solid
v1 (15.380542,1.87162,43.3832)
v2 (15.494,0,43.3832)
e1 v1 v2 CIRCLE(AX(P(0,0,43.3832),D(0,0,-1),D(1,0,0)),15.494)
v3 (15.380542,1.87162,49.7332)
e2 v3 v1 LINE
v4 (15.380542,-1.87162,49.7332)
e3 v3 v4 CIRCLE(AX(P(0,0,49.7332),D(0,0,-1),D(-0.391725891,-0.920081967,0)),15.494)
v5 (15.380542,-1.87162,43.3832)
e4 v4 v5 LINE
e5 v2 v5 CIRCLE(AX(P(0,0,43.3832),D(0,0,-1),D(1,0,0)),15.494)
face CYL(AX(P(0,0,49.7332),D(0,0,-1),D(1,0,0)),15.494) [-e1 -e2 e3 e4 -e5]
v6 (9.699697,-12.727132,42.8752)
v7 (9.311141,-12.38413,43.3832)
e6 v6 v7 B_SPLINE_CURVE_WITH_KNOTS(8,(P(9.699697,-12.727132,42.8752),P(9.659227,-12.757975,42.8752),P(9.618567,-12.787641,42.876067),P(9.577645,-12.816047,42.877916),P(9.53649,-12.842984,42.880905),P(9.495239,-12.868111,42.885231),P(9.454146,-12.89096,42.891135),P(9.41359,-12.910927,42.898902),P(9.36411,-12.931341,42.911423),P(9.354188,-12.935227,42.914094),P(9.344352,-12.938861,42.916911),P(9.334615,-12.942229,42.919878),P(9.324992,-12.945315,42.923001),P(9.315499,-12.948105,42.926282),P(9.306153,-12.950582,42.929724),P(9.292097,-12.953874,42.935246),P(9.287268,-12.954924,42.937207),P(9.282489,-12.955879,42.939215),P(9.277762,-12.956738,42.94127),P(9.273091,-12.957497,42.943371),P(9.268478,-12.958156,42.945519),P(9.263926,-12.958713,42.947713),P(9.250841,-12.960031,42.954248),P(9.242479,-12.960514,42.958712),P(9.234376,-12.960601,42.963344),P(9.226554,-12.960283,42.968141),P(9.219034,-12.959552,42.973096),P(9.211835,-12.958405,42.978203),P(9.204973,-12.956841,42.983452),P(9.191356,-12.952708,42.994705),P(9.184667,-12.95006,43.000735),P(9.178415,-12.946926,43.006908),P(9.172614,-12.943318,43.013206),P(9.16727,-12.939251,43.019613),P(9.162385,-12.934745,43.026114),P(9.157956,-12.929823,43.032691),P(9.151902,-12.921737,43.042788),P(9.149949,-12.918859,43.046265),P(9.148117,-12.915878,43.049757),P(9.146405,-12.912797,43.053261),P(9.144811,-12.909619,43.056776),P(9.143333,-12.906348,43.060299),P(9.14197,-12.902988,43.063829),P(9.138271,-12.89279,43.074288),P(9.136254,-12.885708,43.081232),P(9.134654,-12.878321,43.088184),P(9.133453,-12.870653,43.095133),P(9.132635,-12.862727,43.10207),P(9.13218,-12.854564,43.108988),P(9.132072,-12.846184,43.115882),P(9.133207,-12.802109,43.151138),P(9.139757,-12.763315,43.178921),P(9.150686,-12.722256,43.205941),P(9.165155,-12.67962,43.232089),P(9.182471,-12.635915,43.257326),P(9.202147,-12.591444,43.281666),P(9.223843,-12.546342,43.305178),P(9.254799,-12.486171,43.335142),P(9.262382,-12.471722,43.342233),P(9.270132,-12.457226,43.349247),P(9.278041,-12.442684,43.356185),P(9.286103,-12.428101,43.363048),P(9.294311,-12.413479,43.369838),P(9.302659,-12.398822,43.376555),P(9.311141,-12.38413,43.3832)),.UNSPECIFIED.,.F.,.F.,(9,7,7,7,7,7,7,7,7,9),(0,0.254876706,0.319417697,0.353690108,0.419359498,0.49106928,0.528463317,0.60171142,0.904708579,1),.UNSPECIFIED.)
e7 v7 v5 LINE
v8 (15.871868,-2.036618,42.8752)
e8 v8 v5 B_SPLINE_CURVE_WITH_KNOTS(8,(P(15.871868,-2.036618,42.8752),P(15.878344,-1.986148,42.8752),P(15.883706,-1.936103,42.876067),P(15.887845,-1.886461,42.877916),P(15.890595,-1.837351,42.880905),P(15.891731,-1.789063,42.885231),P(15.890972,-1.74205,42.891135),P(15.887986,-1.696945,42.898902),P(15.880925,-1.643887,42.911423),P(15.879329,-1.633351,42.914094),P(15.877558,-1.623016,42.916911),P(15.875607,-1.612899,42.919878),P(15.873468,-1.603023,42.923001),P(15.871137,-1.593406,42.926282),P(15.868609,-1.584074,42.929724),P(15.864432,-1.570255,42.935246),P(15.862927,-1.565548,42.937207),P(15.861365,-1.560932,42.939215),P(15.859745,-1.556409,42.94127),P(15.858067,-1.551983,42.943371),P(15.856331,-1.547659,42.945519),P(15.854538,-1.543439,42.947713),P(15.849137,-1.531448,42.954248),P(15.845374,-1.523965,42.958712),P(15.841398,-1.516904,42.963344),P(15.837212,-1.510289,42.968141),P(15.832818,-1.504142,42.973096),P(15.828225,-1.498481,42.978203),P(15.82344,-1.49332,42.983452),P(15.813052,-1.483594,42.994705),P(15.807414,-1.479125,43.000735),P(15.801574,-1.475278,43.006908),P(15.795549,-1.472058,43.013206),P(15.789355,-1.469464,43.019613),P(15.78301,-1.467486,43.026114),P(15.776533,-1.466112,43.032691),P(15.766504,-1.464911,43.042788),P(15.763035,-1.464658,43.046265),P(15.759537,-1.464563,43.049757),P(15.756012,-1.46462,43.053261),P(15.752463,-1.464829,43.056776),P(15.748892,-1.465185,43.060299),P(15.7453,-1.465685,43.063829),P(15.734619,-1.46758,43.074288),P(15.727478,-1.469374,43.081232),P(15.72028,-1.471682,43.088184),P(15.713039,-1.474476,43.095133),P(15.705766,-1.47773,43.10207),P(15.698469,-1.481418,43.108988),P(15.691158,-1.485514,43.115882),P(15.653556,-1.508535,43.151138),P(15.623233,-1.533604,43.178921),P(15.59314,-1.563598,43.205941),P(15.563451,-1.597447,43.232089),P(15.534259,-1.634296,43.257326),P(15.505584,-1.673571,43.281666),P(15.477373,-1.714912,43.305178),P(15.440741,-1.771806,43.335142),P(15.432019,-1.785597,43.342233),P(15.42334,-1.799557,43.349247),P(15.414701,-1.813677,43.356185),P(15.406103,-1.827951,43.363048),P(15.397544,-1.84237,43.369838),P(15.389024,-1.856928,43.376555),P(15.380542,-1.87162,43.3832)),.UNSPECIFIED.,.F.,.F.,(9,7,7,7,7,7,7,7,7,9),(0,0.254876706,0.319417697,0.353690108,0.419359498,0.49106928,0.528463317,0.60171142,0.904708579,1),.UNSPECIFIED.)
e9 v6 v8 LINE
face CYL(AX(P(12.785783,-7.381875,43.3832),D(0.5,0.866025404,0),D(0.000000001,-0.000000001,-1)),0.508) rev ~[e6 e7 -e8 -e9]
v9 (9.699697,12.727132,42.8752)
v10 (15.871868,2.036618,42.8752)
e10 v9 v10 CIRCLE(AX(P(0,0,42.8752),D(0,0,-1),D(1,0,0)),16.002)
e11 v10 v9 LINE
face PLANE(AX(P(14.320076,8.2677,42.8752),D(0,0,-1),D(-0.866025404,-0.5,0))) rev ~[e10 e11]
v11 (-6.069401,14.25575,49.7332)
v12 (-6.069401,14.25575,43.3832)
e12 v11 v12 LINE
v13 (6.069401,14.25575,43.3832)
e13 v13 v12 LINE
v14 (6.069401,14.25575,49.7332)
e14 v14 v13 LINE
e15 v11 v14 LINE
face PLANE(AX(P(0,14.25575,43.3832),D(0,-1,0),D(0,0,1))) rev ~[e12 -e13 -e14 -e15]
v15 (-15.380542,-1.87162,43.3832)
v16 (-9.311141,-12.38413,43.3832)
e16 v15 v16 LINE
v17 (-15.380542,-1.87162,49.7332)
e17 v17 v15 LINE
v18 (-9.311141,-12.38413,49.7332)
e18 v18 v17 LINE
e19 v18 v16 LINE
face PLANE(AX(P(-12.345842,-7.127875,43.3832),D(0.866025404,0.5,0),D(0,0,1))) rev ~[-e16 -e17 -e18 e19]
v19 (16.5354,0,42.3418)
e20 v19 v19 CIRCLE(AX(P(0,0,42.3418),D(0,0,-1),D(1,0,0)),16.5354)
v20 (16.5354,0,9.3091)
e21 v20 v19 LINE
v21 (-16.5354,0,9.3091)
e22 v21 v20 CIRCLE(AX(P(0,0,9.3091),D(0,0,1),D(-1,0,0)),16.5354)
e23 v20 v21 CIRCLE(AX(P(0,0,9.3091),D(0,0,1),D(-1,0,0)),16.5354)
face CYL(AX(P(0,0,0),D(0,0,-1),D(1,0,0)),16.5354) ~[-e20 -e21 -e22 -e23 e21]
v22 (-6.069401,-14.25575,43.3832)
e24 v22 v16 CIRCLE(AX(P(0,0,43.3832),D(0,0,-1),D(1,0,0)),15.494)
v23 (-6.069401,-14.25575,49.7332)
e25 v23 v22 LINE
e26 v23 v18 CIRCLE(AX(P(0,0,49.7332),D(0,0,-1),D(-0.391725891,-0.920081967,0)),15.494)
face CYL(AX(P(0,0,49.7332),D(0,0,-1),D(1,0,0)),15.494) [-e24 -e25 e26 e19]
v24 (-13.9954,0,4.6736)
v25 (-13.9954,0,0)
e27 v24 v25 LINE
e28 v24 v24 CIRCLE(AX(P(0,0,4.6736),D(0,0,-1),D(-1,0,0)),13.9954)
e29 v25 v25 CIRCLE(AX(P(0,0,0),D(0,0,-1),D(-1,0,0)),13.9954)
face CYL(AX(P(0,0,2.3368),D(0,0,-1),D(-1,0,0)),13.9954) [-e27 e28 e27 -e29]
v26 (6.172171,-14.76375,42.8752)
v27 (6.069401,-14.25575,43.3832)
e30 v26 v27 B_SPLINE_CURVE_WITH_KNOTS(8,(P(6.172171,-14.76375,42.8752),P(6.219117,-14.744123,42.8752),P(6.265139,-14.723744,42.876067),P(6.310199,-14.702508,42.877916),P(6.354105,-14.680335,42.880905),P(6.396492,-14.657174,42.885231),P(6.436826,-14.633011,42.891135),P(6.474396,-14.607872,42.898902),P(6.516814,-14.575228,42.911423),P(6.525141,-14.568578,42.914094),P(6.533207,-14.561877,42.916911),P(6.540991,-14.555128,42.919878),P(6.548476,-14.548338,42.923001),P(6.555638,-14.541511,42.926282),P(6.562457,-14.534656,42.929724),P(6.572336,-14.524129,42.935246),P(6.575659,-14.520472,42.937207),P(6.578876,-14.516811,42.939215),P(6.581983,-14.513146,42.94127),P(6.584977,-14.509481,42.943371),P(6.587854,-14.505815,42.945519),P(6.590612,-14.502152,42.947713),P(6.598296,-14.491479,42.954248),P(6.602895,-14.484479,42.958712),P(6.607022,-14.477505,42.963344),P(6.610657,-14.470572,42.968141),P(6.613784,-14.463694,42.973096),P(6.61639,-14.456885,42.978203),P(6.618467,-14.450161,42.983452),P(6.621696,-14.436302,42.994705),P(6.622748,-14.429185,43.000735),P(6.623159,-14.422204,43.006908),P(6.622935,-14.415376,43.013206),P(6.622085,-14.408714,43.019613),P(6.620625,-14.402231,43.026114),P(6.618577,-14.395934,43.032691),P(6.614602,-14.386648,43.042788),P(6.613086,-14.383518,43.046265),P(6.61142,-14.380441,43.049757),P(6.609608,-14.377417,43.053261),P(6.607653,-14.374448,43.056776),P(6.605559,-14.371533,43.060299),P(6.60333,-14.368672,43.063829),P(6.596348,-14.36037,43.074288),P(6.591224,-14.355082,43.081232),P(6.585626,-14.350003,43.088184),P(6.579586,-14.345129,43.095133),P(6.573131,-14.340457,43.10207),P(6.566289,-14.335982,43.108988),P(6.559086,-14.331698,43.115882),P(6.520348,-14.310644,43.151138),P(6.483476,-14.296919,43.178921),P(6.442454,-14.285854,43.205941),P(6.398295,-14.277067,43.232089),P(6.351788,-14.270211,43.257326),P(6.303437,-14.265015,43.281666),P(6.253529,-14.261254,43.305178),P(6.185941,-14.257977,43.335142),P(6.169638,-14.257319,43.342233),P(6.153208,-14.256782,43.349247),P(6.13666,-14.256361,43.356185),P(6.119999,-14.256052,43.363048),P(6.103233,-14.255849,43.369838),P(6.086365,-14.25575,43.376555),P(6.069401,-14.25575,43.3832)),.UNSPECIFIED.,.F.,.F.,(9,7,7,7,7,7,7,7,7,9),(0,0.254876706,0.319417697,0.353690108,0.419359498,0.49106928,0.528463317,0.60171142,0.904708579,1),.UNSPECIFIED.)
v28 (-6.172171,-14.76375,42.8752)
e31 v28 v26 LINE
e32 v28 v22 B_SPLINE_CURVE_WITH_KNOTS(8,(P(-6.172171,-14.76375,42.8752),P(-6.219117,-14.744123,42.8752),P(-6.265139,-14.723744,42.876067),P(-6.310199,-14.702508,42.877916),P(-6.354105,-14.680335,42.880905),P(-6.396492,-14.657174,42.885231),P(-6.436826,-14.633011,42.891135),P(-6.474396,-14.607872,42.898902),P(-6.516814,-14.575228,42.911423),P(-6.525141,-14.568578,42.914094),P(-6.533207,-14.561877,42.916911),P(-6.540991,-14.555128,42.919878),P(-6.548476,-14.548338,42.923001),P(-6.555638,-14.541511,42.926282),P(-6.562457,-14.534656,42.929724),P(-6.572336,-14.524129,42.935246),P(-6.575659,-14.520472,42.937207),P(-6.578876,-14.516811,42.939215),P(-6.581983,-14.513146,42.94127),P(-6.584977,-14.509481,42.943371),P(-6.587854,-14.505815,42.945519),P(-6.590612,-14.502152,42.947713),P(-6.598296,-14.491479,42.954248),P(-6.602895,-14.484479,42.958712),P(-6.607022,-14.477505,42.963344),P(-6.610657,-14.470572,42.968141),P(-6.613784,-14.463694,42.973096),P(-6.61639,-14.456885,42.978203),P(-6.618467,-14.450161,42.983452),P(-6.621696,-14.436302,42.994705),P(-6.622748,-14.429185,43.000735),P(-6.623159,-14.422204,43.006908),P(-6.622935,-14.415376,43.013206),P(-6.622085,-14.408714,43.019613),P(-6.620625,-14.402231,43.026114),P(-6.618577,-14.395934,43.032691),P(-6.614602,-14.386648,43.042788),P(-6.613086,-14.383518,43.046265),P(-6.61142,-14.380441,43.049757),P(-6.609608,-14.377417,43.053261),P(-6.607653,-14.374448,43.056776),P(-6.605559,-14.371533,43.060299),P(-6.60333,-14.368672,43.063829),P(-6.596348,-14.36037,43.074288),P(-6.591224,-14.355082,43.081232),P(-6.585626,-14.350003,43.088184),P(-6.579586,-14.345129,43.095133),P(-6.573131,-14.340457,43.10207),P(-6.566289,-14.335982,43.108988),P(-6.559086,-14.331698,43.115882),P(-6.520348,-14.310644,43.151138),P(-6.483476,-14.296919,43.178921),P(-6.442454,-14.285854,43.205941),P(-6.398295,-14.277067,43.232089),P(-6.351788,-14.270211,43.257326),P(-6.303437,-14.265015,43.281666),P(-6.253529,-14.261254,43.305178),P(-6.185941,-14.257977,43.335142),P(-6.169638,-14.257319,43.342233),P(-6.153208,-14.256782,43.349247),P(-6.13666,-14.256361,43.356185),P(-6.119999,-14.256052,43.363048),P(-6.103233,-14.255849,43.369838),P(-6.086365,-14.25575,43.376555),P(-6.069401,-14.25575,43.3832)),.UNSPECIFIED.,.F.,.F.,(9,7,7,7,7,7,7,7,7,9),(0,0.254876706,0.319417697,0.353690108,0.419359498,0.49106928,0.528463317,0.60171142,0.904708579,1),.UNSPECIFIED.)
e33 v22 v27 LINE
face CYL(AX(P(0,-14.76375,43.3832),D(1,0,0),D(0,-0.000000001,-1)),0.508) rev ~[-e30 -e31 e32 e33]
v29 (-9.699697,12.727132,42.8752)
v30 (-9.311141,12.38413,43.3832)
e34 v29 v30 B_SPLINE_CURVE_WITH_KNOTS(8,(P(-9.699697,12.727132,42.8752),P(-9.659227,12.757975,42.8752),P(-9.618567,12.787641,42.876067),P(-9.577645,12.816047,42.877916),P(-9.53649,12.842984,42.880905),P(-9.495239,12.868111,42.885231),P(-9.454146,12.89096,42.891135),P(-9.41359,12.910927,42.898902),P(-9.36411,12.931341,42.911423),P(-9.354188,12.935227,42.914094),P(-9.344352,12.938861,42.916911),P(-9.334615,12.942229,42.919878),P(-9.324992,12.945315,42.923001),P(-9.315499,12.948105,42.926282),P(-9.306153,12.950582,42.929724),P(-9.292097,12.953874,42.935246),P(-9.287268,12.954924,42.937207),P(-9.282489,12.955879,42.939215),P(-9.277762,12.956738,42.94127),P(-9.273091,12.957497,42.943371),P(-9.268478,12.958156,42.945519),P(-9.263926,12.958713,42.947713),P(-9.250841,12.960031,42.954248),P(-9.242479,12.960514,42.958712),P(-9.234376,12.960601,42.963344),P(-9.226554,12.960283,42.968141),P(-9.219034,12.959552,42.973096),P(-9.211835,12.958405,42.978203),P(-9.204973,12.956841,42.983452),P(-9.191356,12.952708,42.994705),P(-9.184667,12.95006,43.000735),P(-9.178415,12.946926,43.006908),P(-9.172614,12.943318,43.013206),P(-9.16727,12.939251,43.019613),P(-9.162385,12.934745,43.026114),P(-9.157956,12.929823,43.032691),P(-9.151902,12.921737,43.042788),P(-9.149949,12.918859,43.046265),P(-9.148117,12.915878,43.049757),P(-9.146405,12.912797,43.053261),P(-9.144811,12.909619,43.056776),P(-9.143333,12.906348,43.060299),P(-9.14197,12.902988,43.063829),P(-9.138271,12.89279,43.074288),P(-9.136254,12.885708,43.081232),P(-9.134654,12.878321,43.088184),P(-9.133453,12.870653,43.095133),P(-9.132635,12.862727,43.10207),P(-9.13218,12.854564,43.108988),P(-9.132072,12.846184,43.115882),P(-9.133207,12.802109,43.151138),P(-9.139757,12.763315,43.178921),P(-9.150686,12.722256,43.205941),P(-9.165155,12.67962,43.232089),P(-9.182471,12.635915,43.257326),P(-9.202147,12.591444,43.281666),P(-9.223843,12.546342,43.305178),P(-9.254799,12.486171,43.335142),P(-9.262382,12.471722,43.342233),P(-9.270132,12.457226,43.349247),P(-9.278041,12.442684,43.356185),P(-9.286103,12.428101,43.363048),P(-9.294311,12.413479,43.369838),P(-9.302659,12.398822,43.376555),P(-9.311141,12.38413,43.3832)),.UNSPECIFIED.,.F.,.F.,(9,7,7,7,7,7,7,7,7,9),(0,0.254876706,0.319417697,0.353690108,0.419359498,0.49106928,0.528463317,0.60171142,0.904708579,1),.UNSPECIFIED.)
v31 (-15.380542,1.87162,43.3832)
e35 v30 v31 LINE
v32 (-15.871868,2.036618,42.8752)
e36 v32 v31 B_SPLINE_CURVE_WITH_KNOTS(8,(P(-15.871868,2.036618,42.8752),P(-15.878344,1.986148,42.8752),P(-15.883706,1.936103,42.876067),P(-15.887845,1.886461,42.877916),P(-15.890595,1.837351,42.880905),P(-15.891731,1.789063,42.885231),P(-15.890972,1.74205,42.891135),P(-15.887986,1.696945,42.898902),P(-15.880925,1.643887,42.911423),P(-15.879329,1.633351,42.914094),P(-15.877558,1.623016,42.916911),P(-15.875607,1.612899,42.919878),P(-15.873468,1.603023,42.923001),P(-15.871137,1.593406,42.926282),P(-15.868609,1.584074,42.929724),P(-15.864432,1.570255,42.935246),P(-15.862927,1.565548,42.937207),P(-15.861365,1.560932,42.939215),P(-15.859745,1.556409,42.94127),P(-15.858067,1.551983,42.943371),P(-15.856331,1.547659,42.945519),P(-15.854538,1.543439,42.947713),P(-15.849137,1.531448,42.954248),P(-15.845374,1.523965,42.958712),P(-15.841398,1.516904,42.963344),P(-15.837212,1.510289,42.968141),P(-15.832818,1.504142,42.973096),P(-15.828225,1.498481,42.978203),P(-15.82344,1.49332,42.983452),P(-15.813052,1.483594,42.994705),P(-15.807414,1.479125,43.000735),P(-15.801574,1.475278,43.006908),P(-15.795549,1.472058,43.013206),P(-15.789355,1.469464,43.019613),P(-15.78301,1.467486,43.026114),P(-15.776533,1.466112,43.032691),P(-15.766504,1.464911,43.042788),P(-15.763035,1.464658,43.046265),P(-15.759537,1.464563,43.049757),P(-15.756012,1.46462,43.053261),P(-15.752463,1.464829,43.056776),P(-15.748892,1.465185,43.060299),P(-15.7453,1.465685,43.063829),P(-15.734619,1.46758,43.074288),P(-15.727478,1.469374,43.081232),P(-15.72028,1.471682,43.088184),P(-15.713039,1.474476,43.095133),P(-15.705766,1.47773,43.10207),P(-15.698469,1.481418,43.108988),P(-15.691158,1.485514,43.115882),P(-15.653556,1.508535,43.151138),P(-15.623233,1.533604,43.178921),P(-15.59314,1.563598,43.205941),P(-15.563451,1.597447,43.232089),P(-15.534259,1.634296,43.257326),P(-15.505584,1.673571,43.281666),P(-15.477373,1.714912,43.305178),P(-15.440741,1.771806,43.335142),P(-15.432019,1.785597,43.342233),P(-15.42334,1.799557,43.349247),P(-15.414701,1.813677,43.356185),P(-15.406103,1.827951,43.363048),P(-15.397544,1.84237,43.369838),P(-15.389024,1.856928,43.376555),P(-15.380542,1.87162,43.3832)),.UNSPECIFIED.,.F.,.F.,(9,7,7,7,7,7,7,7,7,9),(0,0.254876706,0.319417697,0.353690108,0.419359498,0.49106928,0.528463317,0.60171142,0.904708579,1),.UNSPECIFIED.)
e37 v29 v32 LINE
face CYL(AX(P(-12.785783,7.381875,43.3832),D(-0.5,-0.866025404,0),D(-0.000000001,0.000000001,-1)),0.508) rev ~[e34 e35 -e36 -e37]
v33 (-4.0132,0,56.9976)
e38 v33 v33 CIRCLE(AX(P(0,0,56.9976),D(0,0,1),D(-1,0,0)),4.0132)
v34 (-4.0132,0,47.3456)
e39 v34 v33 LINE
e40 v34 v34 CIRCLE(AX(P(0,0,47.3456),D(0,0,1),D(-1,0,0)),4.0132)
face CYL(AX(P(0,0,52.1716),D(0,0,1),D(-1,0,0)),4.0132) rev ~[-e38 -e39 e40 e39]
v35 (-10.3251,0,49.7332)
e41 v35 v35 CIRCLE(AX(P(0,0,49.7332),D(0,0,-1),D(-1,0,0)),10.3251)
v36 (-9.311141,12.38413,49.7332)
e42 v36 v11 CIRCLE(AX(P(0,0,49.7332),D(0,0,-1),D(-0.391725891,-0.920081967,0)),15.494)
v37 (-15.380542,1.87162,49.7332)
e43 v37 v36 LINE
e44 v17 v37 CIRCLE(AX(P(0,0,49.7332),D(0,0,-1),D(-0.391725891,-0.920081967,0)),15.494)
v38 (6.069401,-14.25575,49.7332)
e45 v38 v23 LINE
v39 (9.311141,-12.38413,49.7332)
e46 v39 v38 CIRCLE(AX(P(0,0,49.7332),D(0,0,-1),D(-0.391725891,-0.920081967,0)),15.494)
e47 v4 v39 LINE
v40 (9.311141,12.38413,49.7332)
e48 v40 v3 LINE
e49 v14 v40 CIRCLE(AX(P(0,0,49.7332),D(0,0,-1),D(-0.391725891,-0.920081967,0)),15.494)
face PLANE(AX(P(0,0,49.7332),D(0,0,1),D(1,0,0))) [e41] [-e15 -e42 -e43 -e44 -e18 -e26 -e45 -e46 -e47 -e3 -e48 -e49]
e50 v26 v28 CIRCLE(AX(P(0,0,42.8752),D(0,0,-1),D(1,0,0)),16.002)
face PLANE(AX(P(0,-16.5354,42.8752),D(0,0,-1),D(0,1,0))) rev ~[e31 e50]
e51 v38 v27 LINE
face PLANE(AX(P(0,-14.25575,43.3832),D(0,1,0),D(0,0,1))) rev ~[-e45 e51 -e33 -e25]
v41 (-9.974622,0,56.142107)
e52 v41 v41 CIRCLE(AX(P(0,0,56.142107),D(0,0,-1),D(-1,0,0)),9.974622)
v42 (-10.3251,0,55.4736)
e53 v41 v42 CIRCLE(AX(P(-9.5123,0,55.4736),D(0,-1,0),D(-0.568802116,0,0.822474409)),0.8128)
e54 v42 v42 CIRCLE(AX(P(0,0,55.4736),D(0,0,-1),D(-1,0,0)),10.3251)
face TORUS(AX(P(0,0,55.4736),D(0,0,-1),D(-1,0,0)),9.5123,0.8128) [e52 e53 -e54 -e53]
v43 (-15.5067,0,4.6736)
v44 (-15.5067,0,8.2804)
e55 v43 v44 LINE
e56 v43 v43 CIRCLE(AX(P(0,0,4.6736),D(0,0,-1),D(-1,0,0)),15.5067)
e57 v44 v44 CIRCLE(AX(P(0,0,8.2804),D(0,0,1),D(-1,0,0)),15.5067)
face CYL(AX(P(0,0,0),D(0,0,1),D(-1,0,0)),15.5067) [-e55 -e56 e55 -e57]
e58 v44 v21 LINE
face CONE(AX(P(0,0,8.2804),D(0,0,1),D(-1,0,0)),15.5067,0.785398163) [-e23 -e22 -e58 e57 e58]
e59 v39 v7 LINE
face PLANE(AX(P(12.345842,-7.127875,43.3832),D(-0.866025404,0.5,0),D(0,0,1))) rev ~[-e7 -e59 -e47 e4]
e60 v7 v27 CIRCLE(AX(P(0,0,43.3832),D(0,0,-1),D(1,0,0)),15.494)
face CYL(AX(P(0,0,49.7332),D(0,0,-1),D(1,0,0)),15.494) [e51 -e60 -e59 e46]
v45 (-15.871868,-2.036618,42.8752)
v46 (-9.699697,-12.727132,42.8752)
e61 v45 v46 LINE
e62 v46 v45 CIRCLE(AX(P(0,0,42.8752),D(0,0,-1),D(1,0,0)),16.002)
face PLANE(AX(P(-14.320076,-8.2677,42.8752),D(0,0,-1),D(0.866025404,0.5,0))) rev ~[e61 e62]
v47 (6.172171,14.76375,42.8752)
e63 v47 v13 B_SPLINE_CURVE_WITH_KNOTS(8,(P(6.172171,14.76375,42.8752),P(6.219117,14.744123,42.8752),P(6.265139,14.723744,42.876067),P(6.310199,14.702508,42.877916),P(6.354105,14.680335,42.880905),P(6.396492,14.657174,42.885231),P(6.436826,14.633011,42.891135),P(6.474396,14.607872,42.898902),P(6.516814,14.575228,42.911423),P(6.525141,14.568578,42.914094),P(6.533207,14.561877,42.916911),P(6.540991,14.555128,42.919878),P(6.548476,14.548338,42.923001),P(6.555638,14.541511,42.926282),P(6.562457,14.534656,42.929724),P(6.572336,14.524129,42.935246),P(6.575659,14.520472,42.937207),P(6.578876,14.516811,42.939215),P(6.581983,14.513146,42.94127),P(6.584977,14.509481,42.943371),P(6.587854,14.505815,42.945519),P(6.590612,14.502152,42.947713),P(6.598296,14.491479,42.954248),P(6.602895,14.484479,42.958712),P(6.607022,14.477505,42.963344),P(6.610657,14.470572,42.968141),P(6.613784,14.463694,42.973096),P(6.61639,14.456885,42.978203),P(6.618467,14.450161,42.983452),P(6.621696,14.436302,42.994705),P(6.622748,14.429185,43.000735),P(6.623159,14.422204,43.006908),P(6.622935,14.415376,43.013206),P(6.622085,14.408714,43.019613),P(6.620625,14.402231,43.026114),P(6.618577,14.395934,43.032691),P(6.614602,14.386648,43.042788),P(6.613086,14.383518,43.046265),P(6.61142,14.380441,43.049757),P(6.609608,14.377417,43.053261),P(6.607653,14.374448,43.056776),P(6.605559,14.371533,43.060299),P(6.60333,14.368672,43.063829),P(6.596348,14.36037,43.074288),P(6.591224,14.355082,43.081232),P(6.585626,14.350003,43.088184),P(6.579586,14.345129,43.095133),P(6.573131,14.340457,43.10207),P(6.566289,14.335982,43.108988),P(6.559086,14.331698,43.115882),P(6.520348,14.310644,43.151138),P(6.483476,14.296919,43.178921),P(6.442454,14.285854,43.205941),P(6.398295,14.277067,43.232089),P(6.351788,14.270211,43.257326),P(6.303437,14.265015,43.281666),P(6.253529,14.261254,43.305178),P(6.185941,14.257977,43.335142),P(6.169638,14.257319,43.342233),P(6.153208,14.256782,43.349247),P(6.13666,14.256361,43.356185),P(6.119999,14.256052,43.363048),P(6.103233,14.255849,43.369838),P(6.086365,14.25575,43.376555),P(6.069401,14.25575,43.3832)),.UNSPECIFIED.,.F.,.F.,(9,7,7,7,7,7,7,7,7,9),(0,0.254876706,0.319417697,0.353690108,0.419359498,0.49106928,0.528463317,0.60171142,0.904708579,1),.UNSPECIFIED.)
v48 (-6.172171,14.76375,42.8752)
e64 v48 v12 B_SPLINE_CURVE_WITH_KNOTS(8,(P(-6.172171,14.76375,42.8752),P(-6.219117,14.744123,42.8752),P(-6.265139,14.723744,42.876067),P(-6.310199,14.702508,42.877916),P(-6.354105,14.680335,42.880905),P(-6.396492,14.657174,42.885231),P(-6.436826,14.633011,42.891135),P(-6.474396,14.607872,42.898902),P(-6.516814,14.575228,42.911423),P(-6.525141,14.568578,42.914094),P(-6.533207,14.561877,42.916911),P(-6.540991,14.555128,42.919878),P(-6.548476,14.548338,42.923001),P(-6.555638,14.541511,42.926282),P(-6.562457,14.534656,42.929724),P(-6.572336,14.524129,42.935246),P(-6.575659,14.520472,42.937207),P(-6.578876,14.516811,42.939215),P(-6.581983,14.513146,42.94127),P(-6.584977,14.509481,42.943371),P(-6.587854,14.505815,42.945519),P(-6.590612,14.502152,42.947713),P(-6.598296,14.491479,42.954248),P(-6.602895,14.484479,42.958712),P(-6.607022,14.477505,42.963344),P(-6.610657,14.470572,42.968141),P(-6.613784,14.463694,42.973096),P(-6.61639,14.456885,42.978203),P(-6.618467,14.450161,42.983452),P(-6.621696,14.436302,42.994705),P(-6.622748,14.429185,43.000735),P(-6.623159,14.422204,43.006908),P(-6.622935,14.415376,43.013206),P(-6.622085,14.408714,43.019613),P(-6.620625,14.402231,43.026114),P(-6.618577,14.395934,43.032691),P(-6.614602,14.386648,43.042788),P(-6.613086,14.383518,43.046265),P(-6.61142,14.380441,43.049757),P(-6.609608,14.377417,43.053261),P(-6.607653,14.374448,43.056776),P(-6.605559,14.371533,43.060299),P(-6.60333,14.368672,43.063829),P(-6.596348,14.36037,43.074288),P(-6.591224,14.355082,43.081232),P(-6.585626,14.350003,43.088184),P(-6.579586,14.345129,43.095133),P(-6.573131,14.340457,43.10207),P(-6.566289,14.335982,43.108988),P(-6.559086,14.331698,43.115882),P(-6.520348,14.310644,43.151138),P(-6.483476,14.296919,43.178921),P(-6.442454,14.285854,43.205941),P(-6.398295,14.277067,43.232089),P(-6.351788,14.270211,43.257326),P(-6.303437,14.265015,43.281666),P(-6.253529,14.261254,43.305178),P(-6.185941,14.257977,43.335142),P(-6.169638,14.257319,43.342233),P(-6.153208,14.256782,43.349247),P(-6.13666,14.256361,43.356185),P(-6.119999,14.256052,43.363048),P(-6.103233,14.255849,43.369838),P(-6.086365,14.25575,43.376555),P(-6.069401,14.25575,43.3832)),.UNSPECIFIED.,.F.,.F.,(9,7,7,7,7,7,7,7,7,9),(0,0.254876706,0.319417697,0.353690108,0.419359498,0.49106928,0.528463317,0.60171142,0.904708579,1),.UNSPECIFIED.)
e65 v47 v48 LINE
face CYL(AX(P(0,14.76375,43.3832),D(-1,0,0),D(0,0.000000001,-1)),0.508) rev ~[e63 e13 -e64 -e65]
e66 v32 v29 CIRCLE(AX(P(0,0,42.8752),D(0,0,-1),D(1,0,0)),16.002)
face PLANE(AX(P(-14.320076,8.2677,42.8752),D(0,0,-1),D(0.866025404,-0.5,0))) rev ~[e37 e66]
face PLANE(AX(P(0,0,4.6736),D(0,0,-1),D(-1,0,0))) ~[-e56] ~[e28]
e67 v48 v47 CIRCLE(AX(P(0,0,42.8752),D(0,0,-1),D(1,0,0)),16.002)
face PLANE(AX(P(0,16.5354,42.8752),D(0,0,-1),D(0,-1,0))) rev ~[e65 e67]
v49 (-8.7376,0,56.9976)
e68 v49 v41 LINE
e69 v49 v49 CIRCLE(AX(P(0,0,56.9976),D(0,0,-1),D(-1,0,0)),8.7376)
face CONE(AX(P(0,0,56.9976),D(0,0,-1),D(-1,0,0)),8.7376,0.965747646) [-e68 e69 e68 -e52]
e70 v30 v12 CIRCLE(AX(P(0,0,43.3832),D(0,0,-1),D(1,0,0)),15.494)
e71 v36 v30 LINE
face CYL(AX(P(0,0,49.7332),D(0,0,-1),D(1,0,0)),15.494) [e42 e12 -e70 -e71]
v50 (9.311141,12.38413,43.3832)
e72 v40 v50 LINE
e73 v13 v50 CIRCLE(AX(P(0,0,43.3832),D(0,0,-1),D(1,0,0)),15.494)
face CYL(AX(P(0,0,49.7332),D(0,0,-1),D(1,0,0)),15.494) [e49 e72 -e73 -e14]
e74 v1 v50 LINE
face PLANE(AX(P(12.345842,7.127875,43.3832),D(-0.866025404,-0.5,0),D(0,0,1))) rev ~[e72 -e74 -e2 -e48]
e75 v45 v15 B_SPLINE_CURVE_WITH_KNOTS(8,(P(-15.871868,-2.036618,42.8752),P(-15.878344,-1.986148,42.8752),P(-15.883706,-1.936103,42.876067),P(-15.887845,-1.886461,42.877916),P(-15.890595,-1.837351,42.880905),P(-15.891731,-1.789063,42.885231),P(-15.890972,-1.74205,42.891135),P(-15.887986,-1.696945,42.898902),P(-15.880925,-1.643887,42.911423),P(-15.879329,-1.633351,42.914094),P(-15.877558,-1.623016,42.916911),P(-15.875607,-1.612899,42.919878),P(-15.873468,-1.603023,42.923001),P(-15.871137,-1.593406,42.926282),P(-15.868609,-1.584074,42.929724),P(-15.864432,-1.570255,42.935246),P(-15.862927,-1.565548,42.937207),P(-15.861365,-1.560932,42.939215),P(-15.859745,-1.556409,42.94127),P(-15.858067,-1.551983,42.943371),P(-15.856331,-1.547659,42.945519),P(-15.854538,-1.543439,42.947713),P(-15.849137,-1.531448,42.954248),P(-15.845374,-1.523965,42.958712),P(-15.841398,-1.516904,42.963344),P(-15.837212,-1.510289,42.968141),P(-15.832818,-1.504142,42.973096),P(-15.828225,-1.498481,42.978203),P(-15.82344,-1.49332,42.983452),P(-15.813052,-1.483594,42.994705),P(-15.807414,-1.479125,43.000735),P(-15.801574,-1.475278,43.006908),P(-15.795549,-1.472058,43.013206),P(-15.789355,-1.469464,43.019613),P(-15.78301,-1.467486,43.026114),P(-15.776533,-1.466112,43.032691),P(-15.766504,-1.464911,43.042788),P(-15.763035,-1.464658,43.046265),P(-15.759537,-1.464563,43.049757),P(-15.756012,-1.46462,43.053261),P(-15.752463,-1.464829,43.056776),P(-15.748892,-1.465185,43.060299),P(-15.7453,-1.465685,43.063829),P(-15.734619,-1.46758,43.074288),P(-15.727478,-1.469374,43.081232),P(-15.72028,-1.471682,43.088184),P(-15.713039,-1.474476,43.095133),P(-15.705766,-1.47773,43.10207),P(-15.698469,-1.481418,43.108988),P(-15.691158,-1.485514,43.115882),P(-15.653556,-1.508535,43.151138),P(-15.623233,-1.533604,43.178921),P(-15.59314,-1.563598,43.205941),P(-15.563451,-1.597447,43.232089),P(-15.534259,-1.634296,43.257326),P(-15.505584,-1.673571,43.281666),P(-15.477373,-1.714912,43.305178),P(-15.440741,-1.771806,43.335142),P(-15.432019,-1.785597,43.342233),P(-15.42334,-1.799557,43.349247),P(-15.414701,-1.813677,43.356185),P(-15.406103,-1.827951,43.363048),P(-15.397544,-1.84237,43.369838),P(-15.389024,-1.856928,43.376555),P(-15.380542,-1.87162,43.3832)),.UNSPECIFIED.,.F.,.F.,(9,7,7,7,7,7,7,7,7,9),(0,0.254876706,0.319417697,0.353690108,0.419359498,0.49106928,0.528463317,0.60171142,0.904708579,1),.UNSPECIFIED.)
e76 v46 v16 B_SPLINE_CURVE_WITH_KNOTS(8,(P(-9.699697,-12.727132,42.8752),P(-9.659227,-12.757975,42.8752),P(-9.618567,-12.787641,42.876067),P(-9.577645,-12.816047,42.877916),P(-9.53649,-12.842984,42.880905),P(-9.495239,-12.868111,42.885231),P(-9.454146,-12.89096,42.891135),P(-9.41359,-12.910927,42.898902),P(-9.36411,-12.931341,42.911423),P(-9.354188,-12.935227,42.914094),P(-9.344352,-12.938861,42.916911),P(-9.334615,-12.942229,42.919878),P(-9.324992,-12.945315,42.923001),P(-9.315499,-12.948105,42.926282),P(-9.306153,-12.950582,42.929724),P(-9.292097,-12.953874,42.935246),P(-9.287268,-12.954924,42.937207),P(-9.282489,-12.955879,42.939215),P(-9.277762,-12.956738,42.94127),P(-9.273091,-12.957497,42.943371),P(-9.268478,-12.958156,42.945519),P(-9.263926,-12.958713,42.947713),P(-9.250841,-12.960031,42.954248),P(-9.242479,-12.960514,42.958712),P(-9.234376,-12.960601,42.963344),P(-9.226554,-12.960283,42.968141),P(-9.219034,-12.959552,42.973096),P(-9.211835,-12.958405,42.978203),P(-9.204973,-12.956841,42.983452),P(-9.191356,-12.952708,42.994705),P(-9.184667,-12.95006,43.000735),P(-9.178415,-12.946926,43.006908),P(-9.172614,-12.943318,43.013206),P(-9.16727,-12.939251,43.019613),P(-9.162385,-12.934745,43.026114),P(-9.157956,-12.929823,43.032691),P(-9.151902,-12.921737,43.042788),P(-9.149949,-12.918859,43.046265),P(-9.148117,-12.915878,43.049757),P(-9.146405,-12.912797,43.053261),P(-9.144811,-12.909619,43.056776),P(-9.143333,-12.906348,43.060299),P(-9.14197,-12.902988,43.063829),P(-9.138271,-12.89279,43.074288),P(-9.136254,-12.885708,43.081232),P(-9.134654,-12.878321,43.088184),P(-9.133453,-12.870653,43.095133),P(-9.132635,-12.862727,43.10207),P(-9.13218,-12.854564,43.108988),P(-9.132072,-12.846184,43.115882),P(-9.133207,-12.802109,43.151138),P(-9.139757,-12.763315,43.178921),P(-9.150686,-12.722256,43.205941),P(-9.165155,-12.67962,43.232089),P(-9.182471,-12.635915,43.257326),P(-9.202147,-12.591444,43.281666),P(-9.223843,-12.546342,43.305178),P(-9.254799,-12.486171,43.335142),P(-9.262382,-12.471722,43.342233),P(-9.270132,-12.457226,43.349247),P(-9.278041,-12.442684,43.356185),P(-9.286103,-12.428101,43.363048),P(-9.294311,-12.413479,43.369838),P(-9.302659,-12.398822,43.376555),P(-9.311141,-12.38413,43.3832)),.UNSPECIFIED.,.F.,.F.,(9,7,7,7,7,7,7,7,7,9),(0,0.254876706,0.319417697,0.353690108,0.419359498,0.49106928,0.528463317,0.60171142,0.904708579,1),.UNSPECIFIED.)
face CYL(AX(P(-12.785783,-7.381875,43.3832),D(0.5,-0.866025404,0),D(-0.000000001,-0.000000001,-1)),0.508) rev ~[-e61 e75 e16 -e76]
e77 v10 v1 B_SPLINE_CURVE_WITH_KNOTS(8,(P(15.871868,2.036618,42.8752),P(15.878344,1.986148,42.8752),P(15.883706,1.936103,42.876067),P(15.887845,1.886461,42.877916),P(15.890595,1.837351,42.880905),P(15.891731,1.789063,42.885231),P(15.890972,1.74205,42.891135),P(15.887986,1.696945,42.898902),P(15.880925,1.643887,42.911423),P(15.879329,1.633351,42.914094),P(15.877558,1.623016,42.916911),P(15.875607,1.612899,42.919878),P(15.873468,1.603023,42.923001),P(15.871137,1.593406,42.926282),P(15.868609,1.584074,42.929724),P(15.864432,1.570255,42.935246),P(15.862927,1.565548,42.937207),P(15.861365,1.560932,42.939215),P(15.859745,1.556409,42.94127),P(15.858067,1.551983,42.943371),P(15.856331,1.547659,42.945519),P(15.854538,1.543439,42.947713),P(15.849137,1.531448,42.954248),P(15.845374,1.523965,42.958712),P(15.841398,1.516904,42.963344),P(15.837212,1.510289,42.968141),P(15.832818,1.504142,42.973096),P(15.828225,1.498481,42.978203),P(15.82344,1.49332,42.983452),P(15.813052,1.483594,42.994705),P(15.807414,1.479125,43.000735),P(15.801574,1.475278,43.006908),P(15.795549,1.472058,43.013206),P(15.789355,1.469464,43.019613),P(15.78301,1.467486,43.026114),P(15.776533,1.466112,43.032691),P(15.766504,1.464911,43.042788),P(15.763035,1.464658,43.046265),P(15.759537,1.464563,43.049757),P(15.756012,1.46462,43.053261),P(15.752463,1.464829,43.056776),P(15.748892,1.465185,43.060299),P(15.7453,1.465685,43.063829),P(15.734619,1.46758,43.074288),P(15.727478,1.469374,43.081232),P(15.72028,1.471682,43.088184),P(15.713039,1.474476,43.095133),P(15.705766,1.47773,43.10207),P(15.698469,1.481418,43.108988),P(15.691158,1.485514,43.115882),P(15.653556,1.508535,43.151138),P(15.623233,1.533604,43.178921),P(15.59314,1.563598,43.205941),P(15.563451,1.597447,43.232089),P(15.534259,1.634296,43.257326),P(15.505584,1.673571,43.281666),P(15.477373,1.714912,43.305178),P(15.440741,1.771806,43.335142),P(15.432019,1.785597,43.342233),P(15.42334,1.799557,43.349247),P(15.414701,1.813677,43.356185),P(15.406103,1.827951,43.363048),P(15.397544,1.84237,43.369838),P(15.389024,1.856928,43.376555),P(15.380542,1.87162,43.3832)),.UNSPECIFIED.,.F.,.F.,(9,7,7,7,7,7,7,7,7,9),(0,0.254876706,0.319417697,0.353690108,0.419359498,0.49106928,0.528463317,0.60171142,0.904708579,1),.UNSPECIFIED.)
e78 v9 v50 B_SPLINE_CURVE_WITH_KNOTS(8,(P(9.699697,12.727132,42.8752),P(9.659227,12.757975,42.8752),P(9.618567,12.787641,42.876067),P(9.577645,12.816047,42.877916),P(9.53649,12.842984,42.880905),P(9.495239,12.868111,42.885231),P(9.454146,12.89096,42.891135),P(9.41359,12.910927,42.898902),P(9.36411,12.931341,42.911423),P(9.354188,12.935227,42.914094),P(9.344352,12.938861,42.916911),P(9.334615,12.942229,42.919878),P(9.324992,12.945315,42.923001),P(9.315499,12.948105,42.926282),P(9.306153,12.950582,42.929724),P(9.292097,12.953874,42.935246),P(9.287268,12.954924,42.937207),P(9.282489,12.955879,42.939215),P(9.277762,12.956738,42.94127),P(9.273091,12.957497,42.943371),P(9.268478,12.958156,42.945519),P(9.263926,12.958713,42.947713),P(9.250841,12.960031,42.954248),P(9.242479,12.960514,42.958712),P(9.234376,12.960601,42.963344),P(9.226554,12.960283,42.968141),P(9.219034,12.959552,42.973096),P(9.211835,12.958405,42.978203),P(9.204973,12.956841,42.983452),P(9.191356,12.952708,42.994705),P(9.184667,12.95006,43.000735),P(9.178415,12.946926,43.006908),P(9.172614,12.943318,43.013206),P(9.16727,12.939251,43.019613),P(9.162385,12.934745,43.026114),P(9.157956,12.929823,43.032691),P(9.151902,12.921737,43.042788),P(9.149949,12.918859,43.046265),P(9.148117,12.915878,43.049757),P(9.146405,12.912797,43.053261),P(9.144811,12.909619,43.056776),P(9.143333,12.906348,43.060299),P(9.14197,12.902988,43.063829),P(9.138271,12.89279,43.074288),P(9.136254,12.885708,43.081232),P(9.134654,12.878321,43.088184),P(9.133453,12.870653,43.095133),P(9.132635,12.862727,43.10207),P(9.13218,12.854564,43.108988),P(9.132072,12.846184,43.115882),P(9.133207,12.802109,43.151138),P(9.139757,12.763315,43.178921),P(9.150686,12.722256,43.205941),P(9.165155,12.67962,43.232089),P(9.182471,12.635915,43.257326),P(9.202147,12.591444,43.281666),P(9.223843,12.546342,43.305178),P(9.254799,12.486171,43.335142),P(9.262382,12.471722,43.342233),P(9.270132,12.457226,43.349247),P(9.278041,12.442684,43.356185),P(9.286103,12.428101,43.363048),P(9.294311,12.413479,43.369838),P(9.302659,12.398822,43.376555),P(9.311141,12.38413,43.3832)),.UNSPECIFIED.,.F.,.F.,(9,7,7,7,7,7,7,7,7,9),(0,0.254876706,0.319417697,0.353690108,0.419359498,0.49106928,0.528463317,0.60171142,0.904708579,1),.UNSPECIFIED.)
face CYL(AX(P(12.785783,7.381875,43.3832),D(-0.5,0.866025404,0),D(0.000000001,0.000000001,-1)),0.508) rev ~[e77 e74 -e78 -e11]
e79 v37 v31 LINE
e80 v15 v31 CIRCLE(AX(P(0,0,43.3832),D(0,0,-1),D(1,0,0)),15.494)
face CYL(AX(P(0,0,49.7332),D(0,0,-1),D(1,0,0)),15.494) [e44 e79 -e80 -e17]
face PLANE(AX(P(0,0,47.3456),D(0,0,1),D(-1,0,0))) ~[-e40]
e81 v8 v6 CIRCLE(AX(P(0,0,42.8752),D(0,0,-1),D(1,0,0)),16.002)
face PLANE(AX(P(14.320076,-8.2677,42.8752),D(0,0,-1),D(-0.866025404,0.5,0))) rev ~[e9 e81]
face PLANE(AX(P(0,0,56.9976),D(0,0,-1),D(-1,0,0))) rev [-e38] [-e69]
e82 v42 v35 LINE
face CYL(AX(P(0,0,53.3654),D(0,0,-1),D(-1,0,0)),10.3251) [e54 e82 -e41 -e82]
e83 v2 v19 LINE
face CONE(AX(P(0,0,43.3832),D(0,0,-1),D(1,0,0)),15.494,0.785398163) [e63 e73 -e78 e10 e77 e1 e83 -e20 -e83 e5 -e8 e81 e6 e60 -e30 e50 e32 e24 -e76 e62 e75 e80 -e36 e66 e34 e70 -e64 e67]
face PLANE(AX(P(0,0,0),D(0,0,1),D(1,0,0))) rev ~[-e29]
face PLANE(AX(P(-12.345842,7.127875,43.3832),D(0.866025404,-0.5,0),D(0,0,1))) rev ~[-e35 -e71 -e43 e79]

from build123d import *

# Parameters (mm, degrees)
SKETCH1_R          = 16.5354
EXTRUDE1_DEPTH     = 49.7332
CUT_EXTRUDE1_DEPTH = 19.84248
SKETCH12_W         = 4.6736
SKETCH12_H         = 1.5113
SKETCH13_W         = 7.2644
SKETCH13_H         = 10.3251
S2D0011_W          = 4.0132
S2D0011_H          = 9.652
CIRPATTERN2_COUNT  = 6


with BuildPart() as part:
    # Sketch1 → Extrude1 (new body)
    with BuildSketch(Plane.XY):
        Circle(SKETCH1_R)
    extrude(amount=EXTRUDE1_DEPTH)

    # Sketch2 → Cut-Extrude1 (cut, symmetric)
    with BuildSketch(Plane(origin=(0, 0, 0), x_dir=(0, 0, 1), z_dir=(1, 0, 0))):
        with BuildLine():
            Line((42.8752, 16.5354), (42.8752, 14.76375))
            ThreePointArc((42.8752, 14.76375), (43.023989755, 14.404539755), (43.3832, 14.25575))
            Line((43.3832, 14.25575), (49.7332, 14.25575))
            Line((49.7332, 14.25575), (49.7332, 16.5354))
            Line((49.7332, 16.5354), (42.8752, 16.5354))
        make_face()
    cut_extrude1 = extrude(amount=CUT_EXTRUDE1_DEPTH, both=True, mode=Mode.SUBTRACT)

    # Sketch10 → Cut-Revolve1 (revolve, cut)
    with BuildSketch(Plane(origin=(0, 0, 0), x_dir=(0, 0, -1), z_dir=(1, 0, 0)), mode=Mode.PRIVATE) as cut_revolve1_sk:
        Polygon((-49.7332, 15.494), (-43.3832, 15.494), (-42.3418, 16.5354), (-49.7332, 16.5354), align=None)
    revolve(cut_revolve1_sk.sketch.rotate(Axis((0, 0, 50.10277), (0, 0, -1)), 90), axis=Axis((0, 0, 50.10277), (0, 0, -1)), mode=Mode.SUBTRACT)  # turned: the seam where the file's is

    # Sketch11 → Cut-Revolve2 (revolve, cut)
    with BuildSketch(Plane(origin=(0, 0, 0), x_dir=(0, 0, 1), z_dir=(1, 0, 0)), mode=Mode.PRIVATE) as cut_revolve2_sk:
        Polygon((0, 15.5067), (8.2804, 15.5067), (9.3091, 16.5354), (0, 16.5354), align=None)
    revolve(cut_revolve2_sk.sketch.rotate(Axis((0, 0, -0.465455), (0, 0, 1)), 270), axis=Axis((0, 0, -0.465455), (0, 0, 1)), mode=Mode.SUBTRACT)  # turned: the seam where the file's is

    # Sketch12 → Cut-Revolve3 (revolve, cut)
    with BuildSketch(Plane(origin=(0, 0, 0), x_dir=(0, 0, -1), z_dir=(1, 0, 0)), mode=Mode.PRIVATE) as cut_revolve3_sk:
        with Locations((-2.3368, 14.75105)):
            Rectangle(SKETCH12_W, SKETCH12_H)
    revolve(cut_revolve3_sk.sketch.rotate(Axis((0, 0, 4.90728), (0, 0, -1)), 270), axis=Axis((0, 0, 4.90728), (0, 0, -1)), mode=Mode.SUBTRACT)  # turned: the seam where the file's is

    # Sketch13 → Revolve1 (revolve)
    with BuildSketch(Plane(origin=(0, 0, 0), x_dir=(0, 0, -1), z_dir=(1, 0, 0)), mode=Mode.PRIVATE) as revolve1_sk:
        with Locations((-53.3654, 5.16255)):
            Rectangle(SKETCH13_W, SKETCH13_H)
    revolve(revolve1_sk.sketch.rotate(Axis((0, 0, 57.36082), (0, 0, -1)), 270), axis=Axis((0, 0, 57.36082), (0, 0, -1)))  # turned: the seam where the file's is

    # S2D0011 → Cut-Revolve4 (revolve, cut)
    with BuildSketch(Plane(origin=(-4.0132, 0, 56.9976), x_dir=(-1, 0, 0), z_dir=(0, 1, 0))):
        with Locations((-2.0066, -4.826)):
            Rectangle(S2D0011_W, S2D0011_H)
    revolve(axis=Axis((0, 0, 32.002650052), (0, 0, 1)), mode=Mode.SUBTRACT)

    # Sketch15 → Cut-Revolve5 (revolve, cut)
    with BuildSketch(Plane(origin=(0, 0, 0), x_dir=(0, 0, -1), z_dir=(1, 0, 0)), mode=Mode.PRIVATE) as cut_revolve5_sk:
        with BuildLine():
            Line((-56.9976, 8.7376), (-56.142107199, 9.97462236))
            ThreePointArc((-56.142107199, 9.97462236), (-55.851004442, 10.232167854), (-55.4736, 10.3251))
            Line((-55.4736, 10.3251), (-56.9976, 10.3251))
            Line((-56.9976, 10.3251), (-56.9976, 8.7376))
        make_face()
    revolve(cut_revolve5_sk.sketch.rotate(Axis((0, 0, 57.0738), (0, 0, -1)), 270), axis=Axis((0, 0, 57.0738), (0, 0, -1)), mode=Mode.SUBTRACT)  # turned: the seam where the file's is

    # CirPattern2: Cut-Extrude1 ×6 about axis
    cirpattern2_axis = Axis((0, 0, 0), (0, 0, 1))
    for i in range(1, CIRPATTERN2_COUNT):
        add(cut_extrude1.rotate(cirpattern2_axis, i * 360 / CIRPATTERN2_COUNT), mode=Mode.SUBTRACT)


solid = part.part
